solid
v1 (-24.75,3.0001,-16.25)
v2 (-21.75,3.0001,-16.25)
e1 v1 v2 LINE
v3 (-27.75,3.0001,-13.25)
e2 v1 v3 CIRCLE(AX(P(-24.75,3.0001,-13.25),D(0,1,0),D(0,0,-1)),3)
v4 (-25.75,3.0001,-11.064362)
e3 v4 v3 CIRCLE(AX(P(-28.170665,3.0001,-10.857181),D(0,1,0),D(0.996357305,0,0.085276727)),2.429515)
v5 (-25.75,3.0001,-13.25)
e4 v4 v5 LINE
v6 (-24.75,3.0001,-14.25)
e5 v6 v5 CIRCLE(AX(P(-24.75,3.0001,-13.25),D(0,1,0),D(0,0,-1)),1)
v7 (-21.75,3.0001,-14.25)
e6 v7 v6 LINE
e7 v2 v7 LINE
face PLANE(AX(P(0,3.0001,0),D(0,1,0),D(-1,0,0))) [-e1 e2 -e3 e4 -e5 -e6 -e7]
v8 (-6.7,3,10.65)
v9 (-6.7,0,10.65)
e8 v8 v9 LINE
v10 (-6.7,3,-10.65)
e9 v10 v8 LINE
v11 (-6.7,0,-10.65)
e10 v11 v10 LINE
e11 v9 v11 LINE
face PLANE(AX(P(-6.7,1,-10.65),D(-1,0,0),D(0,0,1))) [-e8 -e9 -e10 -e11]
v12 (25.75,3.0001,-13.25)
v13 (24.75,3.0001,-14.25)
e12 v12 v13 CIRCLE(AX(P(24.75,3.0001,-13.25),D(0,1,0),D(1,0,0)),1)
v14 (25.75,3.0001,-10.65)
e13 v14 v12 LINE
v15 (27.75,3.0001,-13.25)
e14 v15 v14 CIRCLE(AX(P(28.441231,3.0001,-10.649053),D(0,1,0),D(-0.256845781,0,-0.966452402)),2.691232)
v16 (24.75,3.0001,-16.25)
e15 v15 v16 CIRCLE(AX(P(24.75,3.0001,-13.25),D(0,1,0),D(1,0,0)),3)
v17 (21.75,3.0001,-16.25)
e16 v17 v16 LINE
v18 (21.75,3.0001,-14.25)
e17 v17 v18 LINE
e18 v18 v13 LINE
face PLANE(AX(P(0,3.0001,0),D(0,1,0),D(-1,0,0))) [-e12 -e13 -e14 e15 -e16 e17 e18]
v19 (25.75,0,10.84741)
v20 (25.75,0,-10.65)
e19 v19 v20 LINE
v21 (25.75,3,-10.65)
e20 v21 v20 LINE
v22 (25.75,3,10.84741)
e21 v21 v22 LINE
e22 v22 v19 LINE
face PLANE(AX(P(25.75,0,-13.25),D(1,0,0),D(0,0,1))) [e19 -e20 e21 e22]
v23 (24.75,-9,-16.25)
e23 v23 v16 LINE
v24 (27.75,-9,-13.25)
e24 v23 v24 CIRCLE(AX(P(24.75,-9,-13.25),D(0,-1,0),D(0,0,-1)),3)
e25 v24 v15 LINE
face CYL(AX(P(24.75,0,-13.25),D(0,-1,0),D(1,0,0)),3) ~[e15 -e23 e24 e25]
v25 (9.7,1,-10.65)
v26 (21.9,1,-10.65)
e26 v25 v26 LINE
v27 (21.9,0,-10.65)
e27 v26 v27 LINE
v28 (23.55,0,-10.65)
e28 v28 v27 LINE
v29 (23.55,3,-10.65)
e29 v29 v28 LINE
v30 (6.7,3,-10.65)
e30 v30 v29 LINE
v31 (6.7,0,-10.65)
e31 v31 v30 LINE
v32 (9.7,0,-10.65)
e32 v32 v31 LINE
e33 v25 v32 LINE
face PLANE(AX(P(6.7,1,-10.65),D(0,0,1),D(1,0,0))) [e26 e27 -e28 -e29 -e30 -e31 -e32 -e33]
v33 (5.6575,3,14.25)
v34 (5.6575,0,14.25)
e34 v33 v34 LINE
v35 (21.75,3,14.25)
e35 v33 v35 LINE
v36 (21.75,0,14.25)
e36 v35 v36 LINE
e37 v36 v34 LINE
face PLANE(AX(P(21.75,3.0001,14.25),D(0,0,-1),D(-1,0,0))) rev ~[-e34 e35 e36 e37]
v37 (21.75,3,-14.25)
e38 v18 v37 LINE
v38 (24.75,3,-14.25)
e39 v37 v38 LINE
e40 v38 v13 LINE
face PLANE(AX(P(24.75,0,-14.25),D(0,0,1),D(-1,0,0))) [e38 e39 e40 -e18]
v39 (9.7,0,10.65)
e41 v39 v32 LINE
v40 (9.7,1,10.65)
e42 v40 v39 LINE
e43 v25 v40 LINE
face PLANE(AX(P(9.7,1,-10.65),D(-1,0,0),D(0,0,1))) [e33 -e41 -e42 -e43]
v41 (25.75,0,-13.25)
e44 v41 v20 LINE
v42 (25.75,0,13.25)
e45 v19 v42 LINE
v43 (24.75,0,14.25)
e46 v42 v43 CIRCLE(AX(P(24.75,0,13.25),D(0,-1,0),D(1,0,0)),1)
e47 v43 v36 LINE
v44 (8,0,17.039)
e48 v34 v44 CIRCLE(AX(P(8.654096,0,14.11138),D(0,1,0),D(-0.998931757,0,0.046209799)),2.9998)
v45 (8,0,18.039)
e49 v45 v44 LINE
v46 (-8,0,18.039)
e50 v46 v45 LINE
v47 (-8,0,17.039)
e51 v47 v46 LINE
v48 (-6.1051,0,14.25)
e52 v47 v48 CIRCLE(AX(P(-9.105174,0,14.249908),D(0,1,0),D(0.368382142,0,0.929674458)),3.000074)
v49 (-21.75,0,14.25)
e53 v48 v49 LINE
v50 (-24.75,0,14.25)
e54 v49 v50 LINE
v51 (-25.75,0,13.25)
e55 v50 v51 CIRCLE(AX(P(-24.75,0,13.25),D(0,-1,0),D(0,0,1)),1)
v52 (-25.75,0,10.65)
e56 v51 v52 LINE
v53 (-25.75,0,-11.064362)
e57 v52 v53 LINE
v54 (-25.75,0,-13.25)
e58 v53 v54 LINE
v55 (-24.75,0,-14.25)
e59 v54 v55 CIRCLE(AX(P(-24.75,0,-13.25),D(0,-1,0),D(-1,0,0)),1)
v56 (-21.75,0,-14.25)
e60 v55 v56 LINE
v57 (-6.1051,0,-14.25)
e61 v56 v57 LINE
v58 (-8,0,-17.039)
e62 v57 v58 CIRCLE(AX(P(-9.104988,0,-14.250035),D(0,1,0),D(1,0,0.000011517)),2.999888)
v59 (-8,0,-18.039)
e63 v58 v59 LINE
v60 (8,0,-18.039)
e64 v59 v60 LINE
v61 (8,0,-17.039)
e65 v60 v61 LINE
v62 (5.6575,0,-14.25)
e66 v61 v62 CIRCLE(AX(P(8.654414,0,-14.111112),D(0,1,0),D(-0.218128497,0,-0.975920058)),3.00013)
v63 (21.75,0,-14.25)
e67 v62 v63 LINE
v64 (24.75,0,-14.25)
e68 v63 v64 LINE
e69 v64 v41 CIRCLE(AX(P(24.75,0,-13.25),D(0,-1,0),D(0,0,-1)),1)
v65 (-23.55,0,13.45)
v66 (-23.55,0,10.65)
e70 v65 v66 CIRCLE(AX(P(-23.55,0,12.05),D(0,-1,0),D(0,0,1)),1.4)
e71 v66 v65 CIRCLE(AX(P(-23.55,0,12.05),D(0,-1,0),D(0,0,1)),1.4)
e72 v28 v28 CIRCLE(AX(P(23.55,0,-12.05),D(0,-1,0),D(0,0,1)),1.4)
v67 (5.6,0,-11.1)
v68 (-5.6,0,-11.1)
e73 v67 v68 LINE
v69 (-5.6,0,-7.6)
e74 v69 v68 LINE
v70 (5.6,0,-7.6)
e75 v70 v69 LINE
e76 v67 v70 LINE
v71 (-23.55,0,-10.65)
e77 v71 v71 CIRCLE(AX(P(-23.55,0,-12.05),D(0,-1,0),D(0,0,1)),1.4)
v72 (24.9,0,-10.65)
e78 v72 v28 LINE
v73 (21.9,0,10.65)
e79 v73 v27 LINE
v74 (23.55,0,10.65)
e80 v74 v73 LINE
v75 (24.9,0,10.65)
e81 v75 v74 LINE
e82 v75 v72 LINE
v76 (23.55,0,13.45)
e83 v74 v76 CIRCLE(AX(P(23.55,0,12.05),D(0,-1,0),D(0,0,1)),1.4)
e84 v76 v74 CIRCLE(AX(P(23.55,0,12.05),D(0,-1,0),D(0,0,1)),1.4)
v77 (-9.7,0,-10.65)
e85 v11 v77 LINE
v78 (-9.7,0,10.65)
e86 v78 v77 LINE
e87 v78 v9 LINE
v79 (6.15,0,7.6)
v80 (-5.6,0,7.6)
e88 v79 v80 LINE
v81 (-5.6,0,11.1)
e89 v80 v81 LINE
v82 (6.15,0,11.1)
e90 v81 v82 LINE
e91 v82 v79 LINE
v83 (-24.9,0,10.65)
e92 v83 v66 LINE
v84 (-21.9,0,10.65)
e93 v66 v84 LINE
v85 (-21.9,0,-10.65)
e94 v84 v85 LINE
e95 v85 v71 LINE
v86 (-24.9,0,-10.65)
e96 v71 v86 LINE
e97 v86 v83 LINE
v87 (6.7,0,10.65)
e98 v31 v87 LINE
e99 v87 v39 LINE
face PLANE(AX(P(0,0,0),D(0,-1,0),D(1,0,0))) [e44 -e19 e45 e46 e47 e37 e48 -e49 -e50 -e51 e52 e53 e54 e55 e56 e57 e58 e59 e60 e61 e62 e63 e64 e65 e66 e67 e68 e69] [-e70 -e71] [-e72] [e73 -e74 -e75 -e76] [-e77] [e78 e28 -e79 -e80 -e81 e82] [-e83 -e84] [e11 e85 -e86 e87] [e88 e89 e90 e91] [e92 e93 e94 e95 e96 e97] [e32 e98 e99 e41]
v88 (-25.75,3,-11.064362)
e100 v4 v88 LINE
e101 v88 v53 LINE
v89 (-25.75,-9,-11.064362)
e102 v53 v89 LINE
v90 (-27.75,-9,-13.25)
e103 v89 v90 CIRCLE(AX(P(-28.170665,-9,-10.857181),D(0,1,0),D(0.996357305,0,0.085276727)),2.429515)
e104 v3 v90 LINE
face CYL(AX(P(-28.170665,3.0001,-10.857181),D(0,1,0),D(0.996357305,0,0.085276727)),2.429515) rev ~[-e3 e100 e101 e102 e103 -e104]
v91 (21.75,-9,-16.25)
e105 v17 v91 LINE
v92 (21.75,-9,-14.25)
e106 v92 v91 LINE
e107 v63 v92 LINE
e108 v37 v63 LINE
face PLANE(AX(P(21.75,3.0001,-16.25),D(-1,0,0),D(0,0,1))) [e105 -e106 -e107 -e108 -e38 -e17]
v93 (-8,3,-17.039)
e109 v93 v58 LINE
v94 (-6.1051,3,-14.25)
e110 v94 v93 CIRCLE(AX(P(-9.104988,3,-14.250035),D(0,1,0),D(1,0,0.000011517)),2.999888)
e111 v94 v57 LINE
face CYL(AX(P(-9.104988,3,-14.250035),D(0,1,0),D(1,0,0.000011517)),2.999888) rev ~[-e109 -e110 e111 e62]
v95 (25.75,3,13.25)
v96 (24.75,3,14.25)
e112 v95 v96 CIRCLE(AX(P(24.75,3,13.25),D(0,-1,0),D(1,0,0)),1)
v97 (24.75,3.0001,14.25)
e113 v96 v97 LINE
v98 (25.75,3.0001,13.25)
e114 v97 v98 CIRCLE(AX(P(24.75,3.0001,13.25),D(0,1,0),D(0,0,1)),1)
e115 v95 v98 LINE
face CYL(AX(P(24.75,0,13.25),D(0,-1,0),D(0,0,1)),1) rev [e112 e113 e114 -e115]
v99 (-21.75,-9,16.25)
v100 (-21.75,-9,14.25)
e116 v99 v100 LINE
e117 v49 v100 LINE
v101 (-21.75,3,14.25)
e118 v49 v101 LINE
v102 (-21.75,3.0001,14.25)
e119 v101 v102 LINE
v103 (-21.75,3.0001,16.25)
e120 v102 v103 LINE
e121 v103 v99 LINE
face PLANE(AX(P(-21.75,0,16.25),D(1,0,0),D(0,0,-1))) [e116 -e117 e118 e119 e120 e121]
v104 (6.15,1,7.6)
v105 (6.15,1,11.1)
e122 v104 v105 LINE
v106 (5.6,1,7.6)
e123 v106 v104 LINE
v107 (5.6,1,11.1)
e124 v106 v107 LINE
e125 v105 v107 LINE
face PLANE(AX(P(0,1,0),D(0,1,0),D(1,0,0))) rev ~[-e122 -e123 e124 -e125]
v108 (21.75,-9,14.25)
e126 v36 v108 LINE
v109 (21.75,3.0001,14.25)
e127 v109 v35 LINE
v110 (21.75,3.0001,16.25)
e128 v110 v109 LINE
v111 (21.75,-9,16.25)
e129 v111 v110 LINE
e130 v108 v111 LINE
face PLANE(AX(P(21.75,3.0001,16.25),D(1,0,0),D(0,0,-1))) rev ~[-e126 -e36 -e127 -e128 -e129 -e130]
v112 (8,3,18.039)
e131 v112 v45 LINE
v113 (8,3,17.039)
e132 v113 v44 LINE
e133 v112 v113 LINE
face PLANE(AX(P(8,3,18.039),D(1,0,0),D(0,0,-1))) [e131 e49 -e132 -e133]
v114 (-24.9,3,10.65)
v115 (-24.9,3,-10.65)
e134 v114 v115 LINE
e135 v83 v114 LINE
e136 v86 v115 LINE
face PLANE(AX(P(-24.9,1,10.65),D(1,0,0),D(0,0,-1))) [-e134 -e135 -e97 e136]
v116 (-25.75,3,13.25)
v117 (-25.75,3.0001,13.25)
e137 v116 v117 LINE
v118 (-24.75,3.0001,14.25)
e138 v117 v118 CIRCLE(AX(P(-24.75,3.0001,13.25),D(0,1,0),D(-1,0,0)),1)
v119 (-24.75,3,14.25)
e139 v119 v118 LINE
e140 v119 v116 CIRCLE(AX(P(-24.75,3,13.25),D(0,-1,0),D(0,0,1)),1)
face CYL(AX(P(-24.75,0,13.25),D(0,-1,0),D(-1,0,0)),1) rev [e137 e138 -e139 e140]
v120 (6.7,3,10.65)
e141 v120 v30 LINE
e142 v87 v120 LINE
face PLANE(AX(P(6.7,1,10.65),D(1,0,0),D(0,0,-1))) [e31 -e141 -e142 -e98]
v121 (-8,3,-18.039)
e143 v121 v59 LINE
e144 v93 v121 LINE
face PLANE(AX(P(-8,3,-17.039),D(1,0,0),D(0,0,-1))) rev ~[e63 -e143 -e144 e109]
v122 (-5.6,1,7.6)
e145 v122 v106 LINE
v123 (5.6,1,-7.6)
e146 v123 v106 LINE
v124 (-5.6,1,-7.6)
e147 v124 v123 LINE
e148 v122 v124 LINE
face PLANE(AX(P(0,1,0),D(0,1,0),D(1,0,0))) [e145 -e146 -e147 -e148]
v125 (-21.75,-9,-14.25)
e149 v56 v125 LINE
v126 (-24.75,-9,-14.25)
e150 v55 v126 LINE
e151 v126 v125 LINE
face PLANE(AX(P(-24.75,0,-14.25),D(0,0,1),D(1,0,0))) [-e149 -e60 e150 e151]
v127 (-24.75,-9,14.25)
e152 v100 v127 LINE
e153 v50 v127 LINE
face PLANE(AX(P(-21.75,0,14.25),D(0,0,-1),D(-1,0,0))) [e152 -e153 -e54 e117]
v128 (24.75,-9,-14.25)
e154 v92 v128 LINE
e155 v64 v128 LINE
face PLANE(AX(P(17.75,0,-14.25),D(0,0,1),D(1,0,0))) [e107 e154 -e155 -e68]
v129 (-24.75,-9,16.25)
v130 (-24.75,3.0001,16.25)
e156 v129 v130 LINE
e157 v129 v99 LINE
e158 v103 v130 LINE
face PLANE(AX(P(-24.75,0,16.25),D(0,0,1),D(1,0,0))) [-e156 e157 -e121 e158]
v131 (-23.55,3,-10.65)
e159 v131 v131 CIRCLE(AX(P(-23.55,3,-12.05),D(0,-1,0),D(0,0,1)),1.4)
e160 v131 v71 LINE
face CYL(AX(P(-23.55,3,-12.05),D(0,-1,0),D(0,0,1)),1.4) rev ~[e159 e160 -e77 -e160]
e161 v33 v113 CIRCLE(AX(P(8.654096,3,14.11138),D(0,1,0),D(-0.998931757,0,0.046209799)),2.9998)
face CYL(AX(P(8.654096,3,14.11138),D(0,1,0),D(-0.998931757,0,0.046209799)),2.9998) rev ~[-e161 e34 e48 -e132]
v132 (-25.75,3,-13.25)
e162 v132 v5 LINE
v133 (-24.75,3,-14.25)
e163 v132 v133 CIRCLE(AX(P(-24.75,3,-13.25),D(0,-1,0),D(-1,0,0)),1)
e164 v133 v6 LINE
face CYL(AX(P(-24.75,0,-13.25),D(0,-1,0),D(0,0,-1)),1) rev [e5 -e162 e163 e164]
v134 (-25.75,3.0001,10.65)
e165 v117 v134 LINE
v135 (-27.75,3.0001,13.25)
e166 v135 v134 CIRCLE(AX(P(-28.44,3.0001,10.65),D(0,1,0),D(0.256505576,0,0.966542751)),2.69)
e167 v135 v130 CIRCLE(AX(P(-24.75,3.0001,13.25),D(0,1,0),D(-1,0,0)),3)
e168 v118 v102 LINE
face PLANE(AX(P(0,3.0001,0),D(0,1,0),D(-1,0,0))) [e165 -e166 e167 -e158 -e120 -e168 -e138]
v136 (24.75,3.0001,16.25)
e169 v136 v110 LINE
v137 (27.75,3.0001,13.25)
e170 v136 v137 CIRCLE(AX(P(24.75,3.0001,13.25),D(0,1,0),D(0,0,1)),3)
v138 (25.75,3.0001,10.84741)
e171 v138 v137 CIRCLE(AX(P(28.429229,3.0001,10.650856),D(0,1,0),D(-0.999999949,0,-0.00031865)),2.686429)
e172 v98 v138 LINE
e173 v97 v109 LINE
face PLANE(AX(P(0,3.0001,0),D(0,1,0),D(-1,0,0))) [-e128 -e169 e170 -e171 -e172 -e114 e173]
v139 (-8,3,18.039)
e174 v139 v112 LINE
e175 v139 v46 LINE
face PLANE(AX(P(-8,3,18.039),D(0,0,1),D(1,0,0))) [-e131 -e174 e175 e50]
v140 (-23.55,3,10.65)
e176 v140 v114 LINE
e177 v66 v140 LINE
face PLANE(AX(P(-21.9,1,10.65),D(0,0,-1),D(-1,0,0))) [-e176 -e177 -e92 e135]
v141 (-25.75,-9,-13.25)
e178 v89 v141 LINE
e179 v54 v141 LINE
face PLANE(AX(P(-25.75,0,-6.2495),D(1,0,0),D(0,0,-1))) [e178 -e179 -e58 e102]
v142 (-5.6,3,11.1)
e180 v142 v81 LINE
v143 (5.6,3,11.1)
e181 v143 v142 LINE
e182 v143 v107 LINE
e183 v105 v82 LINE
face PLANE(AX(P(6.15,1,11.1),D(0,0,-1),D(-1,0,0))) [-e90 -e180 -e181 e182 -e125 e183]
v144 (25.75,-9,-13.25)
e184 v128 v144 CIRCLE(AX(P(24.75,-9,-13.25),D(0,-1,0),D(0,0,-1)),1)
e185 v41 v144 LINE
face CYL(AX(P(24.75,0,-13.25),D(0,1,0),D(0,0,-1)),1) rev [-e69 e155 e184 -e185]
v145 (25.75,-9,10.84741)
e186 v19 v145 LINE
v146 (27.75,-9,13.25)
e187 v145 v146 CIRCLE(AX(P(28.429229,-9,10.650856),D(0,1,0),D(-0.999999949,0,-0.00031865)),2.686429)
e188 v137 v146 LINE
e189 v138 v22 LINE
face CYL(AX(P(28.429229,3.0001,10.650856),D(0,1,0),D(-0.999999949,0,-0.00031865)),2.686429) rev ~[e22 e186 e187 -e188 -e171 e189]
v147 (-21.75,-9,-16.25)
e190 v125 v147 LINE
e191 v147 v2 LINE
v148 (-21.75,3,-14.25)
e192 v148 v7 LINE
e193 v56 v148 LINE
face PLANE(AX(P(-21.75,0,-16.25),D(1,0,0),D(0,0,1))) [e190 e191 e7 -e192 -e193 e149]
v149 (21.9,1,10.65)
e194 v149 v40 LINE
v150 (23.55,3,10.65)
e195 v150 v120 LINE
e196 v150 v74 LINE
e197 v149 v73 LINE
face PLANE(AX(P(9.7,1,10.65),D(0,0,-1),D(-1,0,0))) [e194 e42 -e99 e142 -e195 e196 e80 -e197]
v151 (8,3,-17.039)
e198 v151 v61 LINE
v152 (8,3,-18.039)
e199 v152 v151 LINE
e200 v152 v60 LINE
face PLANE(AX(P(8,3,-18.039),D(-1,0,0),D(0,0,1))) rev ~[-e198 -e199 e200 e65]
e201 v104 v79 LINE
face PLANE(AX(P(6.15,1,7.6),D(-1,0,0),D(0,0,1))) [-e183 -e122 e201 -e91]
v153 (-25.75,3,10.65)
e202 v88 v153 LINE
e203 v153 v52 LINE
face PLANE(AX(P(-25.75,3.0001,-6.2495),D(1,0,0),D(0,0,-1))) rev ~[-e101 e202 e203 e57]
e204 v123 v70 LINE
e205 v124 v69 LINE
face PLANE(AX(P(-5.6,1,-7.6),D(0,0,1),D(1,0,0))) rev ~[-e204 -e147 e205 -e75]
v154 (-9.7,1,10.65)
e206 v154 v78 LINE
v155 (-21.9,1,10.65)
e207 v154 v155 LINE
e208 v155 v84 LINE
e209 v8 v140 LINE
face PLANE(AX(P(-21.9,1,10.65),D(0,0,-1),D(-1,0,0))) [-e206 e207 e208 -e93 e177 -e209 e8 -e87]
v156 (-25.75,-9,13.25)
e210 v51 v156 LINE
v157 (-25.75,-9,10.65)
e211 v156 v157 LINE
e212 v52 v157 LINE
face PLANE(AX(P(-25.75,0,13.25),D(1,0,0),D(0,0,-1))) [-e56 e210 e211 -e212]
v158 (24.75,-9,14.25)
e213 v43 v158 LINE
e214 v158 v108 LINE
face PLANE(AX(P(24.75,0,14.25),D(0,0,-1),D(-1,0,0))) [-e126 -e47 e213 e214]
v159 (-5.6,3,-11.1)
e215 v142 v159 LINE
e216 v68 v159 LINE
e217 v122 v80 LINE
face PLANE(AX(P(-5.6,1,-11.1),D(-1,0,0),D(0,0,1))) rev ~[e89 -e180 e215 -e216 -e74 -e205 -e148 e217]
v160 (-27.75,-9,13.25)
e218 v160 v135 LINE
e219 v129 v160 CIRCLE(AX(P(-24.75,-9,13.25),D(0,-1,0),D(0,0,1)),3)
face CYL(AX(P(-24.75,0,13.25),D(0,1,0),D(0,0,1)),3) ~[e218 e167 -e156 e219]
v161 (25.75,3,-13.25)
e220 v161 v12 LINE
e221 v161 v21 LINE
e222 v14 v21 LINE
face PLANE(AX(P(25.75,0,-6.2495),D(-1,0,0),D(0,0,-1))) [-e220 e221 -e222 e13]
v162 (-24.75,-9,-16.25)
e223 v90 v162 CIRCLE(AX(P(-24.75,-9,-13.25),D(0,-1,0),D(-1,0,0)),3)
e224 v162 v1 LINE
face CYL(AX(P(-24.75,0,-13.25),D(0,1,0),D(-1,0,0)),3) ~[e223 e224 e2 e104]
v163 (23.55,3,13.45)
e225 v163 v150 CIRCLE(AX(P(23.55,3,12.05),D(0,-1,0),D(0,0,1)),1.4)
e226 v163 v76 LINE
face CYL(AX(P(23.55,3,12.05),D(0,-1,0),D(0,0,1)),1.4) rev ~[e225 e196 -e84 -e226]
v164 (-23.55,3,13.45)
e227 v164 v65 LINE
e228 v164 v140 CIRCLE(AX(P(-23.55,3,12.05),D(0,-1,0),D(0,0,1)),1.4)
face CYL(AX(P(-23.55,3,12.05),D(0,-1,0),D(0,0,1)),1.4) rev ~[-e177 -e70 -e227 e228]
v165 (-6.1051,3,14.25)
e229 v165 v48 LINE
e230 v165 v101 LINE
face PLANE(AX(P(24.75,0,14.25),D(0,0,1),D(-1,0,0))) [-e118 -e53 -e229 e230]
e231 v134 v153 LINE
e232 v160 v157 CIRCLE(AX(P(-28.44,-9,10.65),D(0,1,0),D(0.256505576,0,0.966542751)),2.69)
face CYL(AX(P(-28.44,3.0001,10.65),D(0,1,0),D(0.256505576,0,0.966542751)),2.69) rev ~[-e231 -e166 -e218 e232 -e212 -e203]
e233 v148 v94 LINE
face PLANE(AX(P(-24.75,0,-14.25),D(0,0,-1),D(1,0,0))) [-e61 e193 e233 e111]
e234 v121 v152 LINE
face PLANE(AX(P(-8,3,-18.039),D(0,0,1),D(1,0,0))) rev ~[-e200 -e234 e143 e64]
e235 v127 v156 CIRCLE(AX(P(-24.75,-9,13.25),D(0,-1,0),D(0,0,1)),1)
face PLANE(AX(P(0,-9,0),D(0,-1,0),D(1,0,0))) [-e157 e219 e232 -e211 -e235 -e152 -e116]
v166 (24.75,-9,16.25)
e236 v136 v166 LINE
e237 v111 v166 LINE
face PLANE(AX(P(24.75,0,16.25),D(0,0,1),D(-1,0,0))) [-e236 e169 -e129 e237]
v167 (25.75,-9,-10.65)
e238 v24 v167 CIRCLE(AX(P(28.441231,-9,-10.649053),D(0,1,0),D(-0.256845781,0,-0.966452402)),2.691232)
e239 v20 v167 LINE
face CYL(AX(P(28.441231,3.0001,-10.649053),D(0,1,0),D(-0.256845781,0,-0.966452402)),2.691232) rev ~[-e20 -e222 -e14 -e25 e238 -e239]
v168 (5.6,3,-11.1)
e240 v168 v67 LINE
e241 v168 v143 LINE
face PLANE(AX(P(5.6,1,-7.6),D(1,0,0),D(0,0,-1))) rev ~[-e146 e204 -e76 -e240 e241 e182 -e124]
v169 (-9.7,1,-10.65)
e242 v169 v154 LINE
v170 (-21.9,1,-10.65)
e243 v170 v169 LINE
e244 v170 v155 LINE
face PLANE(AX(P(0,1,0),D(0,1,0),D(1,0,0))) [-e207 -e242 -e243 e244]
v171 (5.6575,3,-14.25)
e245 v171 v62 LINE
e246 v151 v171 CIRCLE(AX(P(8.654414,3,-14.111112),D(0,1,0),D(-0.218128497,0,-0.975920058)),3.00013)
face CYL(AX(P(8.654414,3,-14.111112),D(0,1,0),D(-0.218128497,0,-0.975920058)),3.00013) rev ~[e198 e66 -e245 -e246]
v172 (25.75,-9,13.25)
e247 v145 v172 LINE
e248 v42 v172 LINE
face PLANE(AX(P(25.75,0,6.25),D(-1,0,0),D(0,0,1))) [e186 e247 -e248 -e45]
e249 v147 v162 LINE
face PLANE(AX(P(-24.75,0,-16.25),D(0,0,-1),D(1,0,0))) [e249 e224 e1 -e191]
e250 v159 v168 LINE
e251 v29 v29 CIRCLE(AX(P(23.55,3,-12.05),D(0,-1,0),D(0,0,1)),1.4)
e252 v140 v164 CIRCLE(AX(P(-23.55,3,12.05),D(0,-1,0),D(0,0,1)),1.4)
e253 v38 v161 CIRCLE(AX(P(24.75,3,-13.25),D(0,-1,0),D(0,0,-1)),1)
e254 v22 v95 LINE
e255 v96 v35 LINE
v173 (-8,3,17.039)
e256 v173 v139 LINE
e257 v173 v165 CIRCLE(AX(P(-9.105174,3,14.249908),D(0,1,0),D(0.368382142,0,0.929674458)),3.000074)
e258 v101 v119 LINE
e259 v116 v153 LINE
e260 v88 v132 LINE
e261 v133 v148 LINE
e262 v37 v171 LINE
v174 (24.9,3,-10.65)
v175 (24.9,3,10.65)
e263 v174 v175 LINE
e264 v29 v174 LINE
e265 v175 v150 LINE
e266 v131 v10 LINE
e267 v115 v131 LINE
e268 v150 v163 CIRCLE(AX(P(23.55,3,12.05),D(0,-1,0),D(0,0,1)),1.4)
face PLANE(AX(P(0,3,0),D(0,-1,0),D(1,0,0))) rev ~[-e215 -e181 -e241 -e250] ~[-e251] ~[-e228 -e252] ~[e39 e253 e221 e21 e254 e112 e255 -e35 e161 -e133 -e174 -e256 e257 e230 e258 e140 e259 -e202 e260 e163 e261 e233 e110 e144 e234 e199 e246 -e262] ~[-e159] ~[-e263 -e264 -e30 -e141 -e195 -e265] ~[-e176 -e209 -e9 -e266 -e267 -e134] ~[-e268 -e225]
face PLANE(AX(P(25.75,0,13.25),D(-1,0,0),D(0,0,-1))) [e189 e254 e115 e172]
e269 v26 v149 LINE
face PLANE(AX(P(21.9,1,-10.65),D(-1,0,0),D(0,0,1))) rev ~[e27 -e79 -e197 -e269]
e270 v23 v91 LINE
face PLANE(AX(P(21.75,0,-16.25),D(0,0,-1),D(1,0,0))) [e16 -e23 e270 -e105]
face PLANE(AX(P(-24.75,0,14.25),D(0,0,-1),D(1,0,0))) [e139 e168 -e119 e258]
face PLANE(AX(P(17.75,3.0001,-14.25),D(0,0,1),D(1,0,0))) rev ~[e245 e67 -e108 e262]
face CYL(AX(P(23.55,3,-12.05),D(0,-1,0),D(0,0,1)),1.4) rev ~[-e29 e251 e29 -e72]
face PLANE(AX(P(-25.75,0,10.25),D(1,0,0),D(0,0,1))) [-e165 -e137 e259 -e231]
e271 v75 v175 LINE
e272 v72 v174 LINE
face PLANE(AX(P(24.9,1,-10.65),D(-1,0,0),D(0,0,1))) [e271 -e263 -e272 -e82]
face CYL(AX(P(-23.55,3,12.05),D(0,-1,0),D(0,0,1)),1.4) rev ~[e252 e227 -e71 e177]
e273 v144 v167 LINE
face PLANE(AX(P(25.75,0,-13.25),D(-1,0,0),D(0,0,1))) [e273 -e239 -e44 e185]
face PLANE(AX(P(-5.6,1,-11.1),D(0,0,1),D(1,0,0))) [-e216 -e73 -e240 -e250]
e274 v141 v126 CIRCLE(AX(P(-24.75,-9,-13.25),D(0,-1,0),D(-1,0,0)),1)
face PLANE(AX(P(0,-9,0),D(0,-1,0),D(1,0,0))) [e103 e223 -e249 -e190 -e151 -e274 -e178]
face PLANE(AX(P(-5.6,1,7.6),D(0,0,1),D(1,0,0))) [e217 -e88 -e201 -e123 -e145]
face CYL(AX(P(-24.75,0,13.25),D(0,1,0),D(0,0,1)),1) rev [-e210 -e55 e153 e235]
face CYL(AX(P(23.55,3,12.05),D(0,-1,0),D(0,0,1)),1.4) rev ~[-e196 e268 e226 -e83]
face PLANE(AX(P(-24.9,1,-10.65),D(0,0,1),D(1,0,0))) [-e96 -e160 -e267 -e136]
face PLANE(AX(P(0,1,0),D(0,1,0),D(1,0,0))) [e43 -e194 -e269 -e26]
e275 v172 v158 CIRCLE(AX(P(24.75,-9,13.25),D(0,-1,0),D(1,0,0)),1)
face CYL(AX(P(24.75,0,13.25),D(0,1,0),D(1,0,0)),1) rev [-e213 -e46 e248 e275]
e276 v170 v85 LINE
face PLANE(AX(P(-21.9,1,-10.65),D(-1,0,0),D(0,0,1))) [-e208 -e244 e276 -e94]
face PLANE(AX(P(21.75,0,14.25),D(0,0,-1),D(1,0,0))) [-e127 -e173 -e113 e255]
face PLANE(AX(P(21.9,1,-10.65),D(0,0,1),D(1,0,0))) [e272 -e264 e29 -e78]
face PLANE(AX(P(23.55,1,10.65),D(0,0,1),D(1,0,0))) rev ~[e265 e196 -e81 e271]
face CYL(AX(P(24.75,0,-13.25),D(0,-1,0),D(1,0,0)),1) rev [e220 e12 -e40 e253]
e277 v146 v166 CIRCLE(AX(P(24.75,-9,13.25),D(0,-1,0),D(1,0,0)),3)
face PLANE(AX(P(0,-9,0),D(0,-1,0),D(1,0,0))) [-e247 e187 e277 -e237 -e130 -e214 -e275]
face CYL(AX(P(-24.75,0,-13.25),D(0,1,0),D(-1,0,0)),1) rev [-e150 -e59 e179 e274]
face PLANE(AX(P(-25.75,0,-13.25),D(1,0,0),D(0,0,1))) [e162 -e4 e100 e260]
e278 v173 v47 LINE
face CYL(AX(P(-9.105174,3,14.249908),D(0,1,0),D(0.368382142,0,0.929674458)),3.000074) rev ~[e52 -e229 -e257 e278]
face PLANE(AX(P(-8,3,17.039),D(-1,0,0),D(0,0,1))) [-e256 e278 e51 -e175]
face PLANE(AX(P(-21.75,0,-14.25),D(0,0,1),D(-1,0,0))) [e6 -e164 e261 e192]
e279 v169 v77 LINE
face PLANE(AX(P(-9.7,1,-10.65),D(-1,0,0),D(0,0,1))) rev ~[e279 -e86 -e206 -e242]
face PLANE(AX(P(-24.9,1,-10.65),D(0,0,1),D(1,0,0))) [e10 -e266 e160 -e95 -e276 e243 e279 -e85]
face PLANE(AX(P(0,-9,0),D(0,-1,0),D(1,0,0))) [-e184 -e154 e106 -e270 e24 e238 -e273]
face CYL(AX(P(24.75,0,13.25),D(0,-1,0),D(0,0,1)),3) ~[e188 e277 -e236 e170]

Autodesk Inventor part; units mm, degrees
ref_plane "YZ Plane" through (0, 0, 0) normal (1, 0, 0) x (0, 1, 0)
ref_plane "XZ Plane" through (0, 0, 0) normal (0, 1, 0) x (-1, 0, 0)
ref_plane "XY Plane" through (0, 0, 0) normal (0, 0, 1) x (1, 0, 0)
sketch "Sketch1" plane through (0, 0, 0) normal (0, 1, 0) x (-1, 0, 0)
  line L0 (-25.75, 13.25) -> (-25.75, -13.25)
  line L1 (-24.75, -14.25) -> (24.75, -14.25)
  line L2 (25.75, -13.25) -> (25.75, 13.25)
  line L3 (24.75, 14.25) -> (-24.75, 14.25)
  arc A0 (-25.75, -13.25) -> (-24.75, -14.25) centre (-24.75, -13.25) ccw
  arc A1 (-24.75, 14.25) -> (-25.75, 13.25) centre (-24.75, 13.25) ccw
  arc A2 (25.75, 13.25) -> (24.75, 14.25) centre (24.75, 13.25) ccw
  arc A3 (24.75, -14.25) -> (25.75, -13.25) centre (24.75, -13.25) ccw
  line L4 (24.75, -16.25) -> (-24.75, -16.25)
  arc A4 (-27.75, -13.25) -> (-24.75, -16.25) centre (-24.75, -13.25) ccw
  line L5 (-27.75, -13.25) -> (-27.75, 13.25)
  arc A5 (-24.75, 16.25) -> (-27.75, 13.25) centre (-24.75, 13.25) ccw
  line L6 (-24.75, 16.25) -> (24.75, 16.25)
  arc A6 (27.75, 13.25) -> (24.75, 16.25) centre (24.75, 13.25) ccw
  line L7 (27.75, 13.25) -> (27.75, -13.25)
  arc A7 (24.75, -16.25) -> (27.75, -13.25) centre (24.75, -13.25) ccw
  line L8 (21.75, -16.25) -> (21.75, -14.25)
  line L9 (27.75, -10.25) -> (25.75, -10.25)
  line L10 (25.75, 10.25) -> (27.75, 10.25)
  line L11 (21.75, 14.25) -> (21.75, 16.25)
  line L12 (-21.75, 14.25) -> (-21.75, 16.25)
  line L13 (-25.75, 10.25) -> (-27.75, 10.25)
  line L14 (-25.75, -10.25) -> (-27.75, -10.25)
  line L15 (-21.75, -16.25) -> (-21.75, -14.25)
  line L16 (-21.75, -14.25) -> (-17.75, -14.25)
  arc A8 (-17.75, -14.25) -> (-21.75, -16.25) centre (-15.3911, -23.9678) ccw
  line L17 (-21.75, 14.25) -> (-17.75, 14.25)
  arc A9 (-21.75, 16.25) -> (-17.75, 14.25) centre (-15.3911, 23.9678) ccw
  line L18 (-25.75, -10.25) -> (-25.75, -6.2495)
  line L19 (-25.75, 10.25) -> (-25.75, 6.25)
  arc A10 (-27.75, -10.25) -> (-25.75, -6.2495) centre (-35.468, -3.8913) ccw
  arc A11 (-25.75, 6.25) -> (-27.75, 10.25) centre (-35.4678, 3.8911) ccw
  line L20 (25.75, -10.25) -> (25.75, -6.2495)
  arc A12 (25.75, -6.2495) -> (27.75, -10.25) centre (35.468, -3.8913) ccw
  line L21 (25.75, 10.25) -> (25.75, 6.25)
  arc A13 (27.75, 10.25) -> (25.75, 6.25) centre (35.4678, 3.8911) ccw
  point P0 (0, 0)
  point P1 (-25.75, 14.25)
  point P2 (-25.75, -14.25)
  point P3 (25.75, -14.25)
  point P4 (21.75, 15.25)
  point P5 (-26.75, 10.25)
  dimension "d0" = 28.5
  dimension "d1" = 51.5
  dimension "d2" = 14.25
  dimension "d3" = 25.75
  dimension "d4" = 1
  dimension "d5" = 2
  dimension "d6" = 3
  dimension "d7" = 3
  dimension "d8" = 3
  dimension "d9" = 3
  dimension "d10" = 3
  dimension "d11" = 3
  dimension "d12" = 3
  dimension "d13" = 3
  dimension "d19" = 4
  dimension "d20" = 10
  dimension "d21" = 10
  dimension "d22" = 4
  dimension "d23" = 10
  dimension "d24" = 10
  dimension "d25" = 10
  dimension "d26" = 10
extrude "Extrusion1" add sketch "Sketch1" along normal blind 3.0001 contours L0 L13 L5 A5 L6 L12 L3 A1 | L0 A11 L13 | L12 A9 L3 | L0 L14 A10 | L14 L0 A0 L1 L15 L4 A4 L5 | L11 L6 A6 L7 L10 L2 A2 L3 | L15 L1 A8 | L8 L1 A3 L2 L9 L7 A7 L4 | L10 A13 L2 | L9 L2 A12
sketch "Sketch2" plane through (0, 0, 0) normal (0, -1, 0) x (1, 0, 0)
  line L0 (24.75, 14.25) -> (-24.75, 14.25) projected
  arc A0 (25.75, 13.25) -> (24.75, 14.25) centre (24.75, 13.25) ccw projected
  line L1 (-24.75, 14.25) -> (24.75, 14.25)
  line L2 (25.75, -13.25) -> (25.75, 13.25) projected
  line L3 (-24.75, -14.25) -> (24.75, -14.25) projected
  arc A1 (-25.75, -13.25) -> (-24.75, -14.25) centre (-24.75, -13.25) ccw projected
  arc A2 (24.75, -14.25) -> (25.75, -13.25) centre (24.75, -13.25) ccw projected
  line L4 (-25.75, 13.25) -> (-25.75, -13.25) projected
  arc A3 (-24.75, 14.25) -> (-25.75, 13.25) centre (-24.75, 13.25) ccw projected
  line L5 (24.75, -16.25) -> (-24.75, -16.25)
  arc A4 (-27.75, -13.25) -> (-24.75, -16.25) centre (-24.75, -13.25) ccw
  line L6 (-27.75, -13.25) -> (-27.75, 13.25)
  arc A5 (-24.75, 16.25) -> (-27.75, 13.25) centre (-24.75, 13.25) ccw
  line L7 (-24.75, 16.25) -> (24.75, 16.25)
  arc A6 (27.75, 13.25) -> (24.75, 16.25) centre (24.75, 13.25) ccw
  line L8 (27.75, 13.25) -> (27.75, -13.25)
  arc A7 (24.75, -16.25) -> (27.75, -13.25) centre (24.75, -13.25) ccw
  point P0 (0, 0)
  dimension "d16" = 2
extrude "Extrusion2" add sketch "Sketch2" against normal blind 3 contours A0 L2 A2 L3 A1 L4 A3 L0
sketch "Sketch3" plane through (0, 3, 0) normal (0, 1, 0) x (1, 0, 0)
  line L0 (6.7, 10.65) -> (24.9, 10.65)
  line L1 (24.9, 10.65) -> (24.9, -10.65)
  line L2 (24.9, -10.65) -> (6.7, -10.65)
  line L3 (6.7, -10.65) -> (6.7, 10.65)
  line L4 (-5.6, 11.1) -> (5.6, 11.1)
  line L5 (5.6, 11.1) -> (5.6, -11.1)
  line L6 (5.6, -11.1) -> (-5.6, -11.1)
  line L7 (-5.6, -11.1) -> (-5.6, 11.1)
  line L8 (17.75, 14.25) -> (-21.75, 14.25) projected
  line L9 (-21.75, -14.25) -> (17.75, -14.25) projected
  line L10 (-6.7, -10.65) -> (-24.9, -10.65)
  line L11 (-6.7, 10.65) -> (-6.7, -10.65)
  line L12 (-24.9, 10.65) -> (-6.7, 10.65)
  line L13 (-24.9, -10.65) -> (-24.9, 10.65)
  point P0 (0, 0)
  dimension "d27" = 18.2
  dimension "d28" = 21.3
  dimension "d29" = 10.65
  dimension "d30" = 6.7
  dimension "d31" = 11.2
  dimension "d32" = 22.2
  dimension "d33" = 5.6
  dimension "d34" = 11.1
  dimension "d69" = 360
extrude "Extrusion3" cut sketch "Sketch3" against normal blind 2
sketch "Sketch4" plane through (0, 3, 0) normal (0, 1, 0) x (1, 0, 0)
  line L0 (-25.75, 6.2495) -> (-25.75, 13.25) projected
  line L1 (-25.75, 12.05) -> (-23.55, 12.05)
  line L2 (-24.75, 14.25) -> (-21.75, 14.25) projected
  line L3 (-23.55, 14.25) -> (-23.55, 12.05)
  circle A0 centre (-23.55, 12.05) radius 1.4
  line L4 (17.75, 14.25) -> (24.75, 14.25) projected
  line L5 (23.55, 14.25) -> (23.55, 12.05)
  line L6 (25.75, 13.25) -> (25.75, 6.2495) projected
  line L7 (25.75, 12.05) -> (23.55, 12.05)
  line L8 (24.75, -14.25) -> (17.75, -14.25) projected
  line L9 (23.55, -14.25) -> (23.55, -12.05)
  line L10 (25.75, -6.25) -> (25.75, -13.25) projected
  line L11 (25.75, -12.05) -> (23.55, -12.05)
  line L12 (-25.75, -13.25) -> (-25.75, -6.25) projected
  line L13 (-25.75, -12.05) -> (-23.55, -12.05)
  line L14 (-21.75, -14.25) -> (-24.75, -14.25) projected
  line L15 (-23.55, -14.25) -> (-23.55, -12.05)
  point P0 (0, 0)
  dimension "d39" = 2.2
  dimension "d40" = 2.2
  dimension "d41" = 2.8
  dimension "d42" = 2.2
  dimension "d43" = 2.2
  dimension "d44" = 2.2
  dimension "d45" = 2.2
  dimension "d46" = 2.2
  dimension "d48" = 2.2
hole "Hole1" at (-23.55, 3, -12.05) at (23.55, 3, -12.05) at (23.55, 3, 12.05) at (-23.55, 3, 12.05) direction (0, -1, 0) diameter 2.8 end through all
sketch "Sketch5" plane through (0, 0, 0) normal (0, -1, 0) x (1, 0, 0)
  line L0 (25.75, -13.25) -> (25.75, -6.2495) projected
  arc A0 (25.75, -6.2495) -> (27.75, -10.25) centre (35.468, -3.8913) ccw projected
  line L1 (27.75, -10.25) -> (27.75, -13.25) projected
  arc A1 (24.75, -16.25) -> (27.75, -13.25) centre (24.75, -13.25) ccw projected
  line L2 (24.75, -16.25) -> (21.75, -16.25) projected
  arc A2 (21.75, -16.25) -> (17.75, -14.25) centre (15.3911, -23.9678) ccw projected
  line L3 (17.75, -14.25) -> (24.75, -14.25) projected
  arc A3 (24.75, -14.25) -> (25.75, -13.25) centre (24.75, -13.25) ccw projected
  line L4 (25.75, 6.25) -> (25.75, 13.25) projected
  arc A4 (27.75, 10.25) -> (25.75, 6.25) centre (35.4678, 3.8911) ccw projected
  line L5 (27.75, 13.25) -> (27.75, 10.25) projected
  arc A5 (27.75, 13.25) -> (24.75, 16.25) centre (24.75, 13.25) ccw projected
  arc A6 (25.75, 13.25) -> (24.75, 14.25) centre (24.75, 13.25) ccw projected
  line L6 (24.75, 14.25) -> (17.75, 14.25) projected
  arc A7 (17.75, 14.25) -> (21.75, 16.25) centre (15.3911, 23.9678) ccw projected
  line L7 (21.75, 16.25) -> (24.75, 16.25) projected
  line L8 (-21.75, 14.25) -> (-24.75, 14.25) projected
  line L9 (-21.75, 16.25) -> (-21.75, 14.25) projected
  line L10 (-24.75, 16.25) -> (-21.75, 16.25) projected
  arc A8 (-24.75, 16.25) -> (-27.75, 13.25) centre (-24.75, 13.25) ccw projected
  line L11 (-27.75, 10.25) -> (-27.75, 13.25) projected
  arc A9 (-25.75, 6.25) -> (-27.75, 10.25) centre (-35.4678, 3.8911) ccw projected
  line L12 (-25.75, 13.25) -> (-25.75, 6.25) projected
  arc A10 (-24.75, 14.25) -> (-25.75, 13.25) centre (-24.75, 13.25) ccw projected
  line L13 (-27.75, -13.25) -> (-27.75, -10.25) projected
  arc A11 (-27.75, -13.25) -> (-24.75, -16.25) centre (-24.75, -13.25) ccw projected
  line L14 (-21.75, -16.25) -> (-24.75, -16.25) projected
  line L15 (-21.75, -14.25) -> (-21.75, -16.25) projected
  line L16 (-24.75, -14.25) -> (-21.75, -14.25) projected
  arc A12 (-25.75, -13.25) -> (-24.75, -14.25) centre (-24.75, -13.25) ccw projected
  line L17 (-25.75, -6.2495) -> (-25.75, -13.25) projected
  arc A13 (-27.75, -10.25) -> (-25.75, -6.2495) centre (-35.468, -3.8913) ccw projected
  point P0 (0, 0)
extrude "Extrusion4" add sketch "Sketch5" along normal blind 9
sketch "Sketch6" plane through (0, 3, 0) normal (0, 1, 0) x (1, 0, 0)
  line L0 (17.75, 14.25) -> (-21.75, 14.25) projected
  arc A0 (-6.1051, 14.25) -> (-8, 17.039) centre (-9.1051, 14.25) ccw
  line L1 (-8, 17.039) -> (-8, 18.039)
  line L2 (-8, 18.039) -> (8, 18.039)
  line L3 (8, 18.039) -> (8, 17.039)
  arc A1 (8, 17.039) -> (5.6575, 14.25) centre (8.6543, 14.1113) ccw
  line L4 (-5.6, 11.1) -> (5.6, 11.1) projected
  line L5 (-24.5, 0) -> (24.9, 0)
  line L6 (24.9, 10.65) -> (24.9, -10.65) projected
  arc A2 (-8, -17.039) -> (-6.1051, -14.25) centre (-9.1051, -14.25) ccw
  line L7 (-8, -17.039) -> (-8, -18.039)
  line L8 (-8, -18.039) -> (8, -18.039)
  line L9 (8, -18.039) -> (8, -17.039)
  arc A3 (5.6575, -14.25) -> (8, -17.039) centre (8.6543, -14.1113) ccw
  line L10 (-6.1051, -14.25) -> (5.6575, -14.25)
  line L11 (-6.1051, 14.25) -> (5.6575, 14.25)
  point P0 (0, 0)
  point P1 (0, 11.1)
  dimension "d58" = 3
  dimension "d59" = 1
  dimension "d60" = 1
  dimension "d61" = 3
  dimension "d62" = 16
  dimension "d63" = 8
extrude "Extrusion5" add sketch "Sketch6" against normal blind 3
sketch "Sketch7" plane through (0, 1, 0) normal (0, 1, 0) x (1, 0, 0)
  line L0 (-24.9, -10.65) -> (-24.9, 10.65) projected
  line L1 (-24.9, 10.65) -> (-21.9, 10.65)
  line L2 (-23.55, 10.65) -> (-6.7, 10.65) projected
  line L3 (-21.9, 10.65) -> (-21.9, -10.65)
  line L4 (-6.7, -10.65) -> (-23.55, -10.65) projected
  line L5 (-21.9, -10.65) -> (-24.9, -10.65)
  line L6 (-24.9, 10.65) -> (-24.9, -10.65)
  line L7 (-6.7, 10.65) -> (-6.7, -10.65) projected
  line L8 (-6.7, 10.65) -> (-9.7, 10.65)
  line L9 (-9.7, 10.65) -> (-9.7, -10.65)
  line L10 (-9.7, -10.65) -> (-6.7, -10.65)
  line L11 (-6.7, 10.65) -> (-6.7, -10.65)
  line L12 (-5.6, 11.1) -> (5.6, 11.1) projected
  line L13 (-5.6, 11.1) -> (-5.6, 7.6)
  line L14 (-5.6, 7.6) -> (5.6, 7.6)
  line L15 (5.6, 7.6) -> (5.6, 11.1)
  line L16 (5.6, 11.1) -> (-5.6, 11.1)
  line L17 (5.6, -11.1) -> (-5.6, -11.1) projected
  line L18 (-5.6, -11.1) -> (-5.6, -7.6)
  line L19 (-5.6, -11.1) -> (-5.6, 11.1) projected
  line L20 (-5.6, -7.6) -> (6.15, -7.6)
  line L21 (6.15, -7.6) -> (6.15, -11.1)
  line L22 (6.15, -11.1) -> (-5.6, -11.1)
  line L23 (6.7, 10.65) -> (23.55, 10.65) projected
  line L24 (6.7, 10.65) -> (9.7, 10.65)
  line L25 (9.7, 10.65) -> (9.7, -10.65)
  line L26 (23.55, -10.65) -> (6.7, -10.65) projected
  line L27 (6.7, -10.65) -> (6.7, 10.65)
  line L28 (23.55, 10.65) -> (24.9, 10.65) projected
  line L29 (24.9, 10.65) -> (21.9, 10.65)
  line L30 (21.9, 10.65) -> (21.9, -10.65)
  line L31 (24.9, 10.65) -> (24.9, -10.65) projected
  line L32 (24.9, -10.65) -> (24.9, 10.65)
  line L33 (24.9, 10.65) -> (24.9, -10.65)
  line L34 (21.9, -10.65) -> (24.9, -10.65)
  line L35 (21.9, 10.65) -> (24.9, 10.65)
  point P0 (0, 0)
  point P1 (5.875, -11.3)
  point P2 (-23.55, -10.65)
  dimension "d71" = 3
  dimension "d72" = 3
  dimension "d73" = 3.5
  dimension "d74" = 3.5
  dimension "d75" = 3
  dimension "d76" = 3
extrude "Extrusion6" cut sketch "Sketch7" against normal through all contours L0 L1 L3 L4 L5 | L9 L2 L7 L4 | L20 L21 L22 L17 L18 | L12 L15 L14 L13 | L23 L25 L26 L27 | L23 L28 L31 L34 L26 L30
sketch "Sketch9" plane through (0, 3.0001, 0) normal (0, 1, 0) x (1, 0, 0)
  line L0 (-24.9, 10.65) -> (-23.55, 10.65) projected
  line L1 (-24.9, 10.65) -> (-25.75, 10.65)
  line L2 (-25.75, 6.2495) -> (-25.75, 13.25) projected
  line L3 (-27.75, 13.25) -> (-27.75, 10.25) projected
  arc A0 (-25.75, 10.65) -> (-27.75, 13.25) centre (-28.1706, 10.8572) ccw
  line L4 (-25.75, 10.65) -> (-25.75, -10.65)
  line L5 (-25.75, -13.25) -> (-25.75, -6.25) projected
  line L6 (-25.75, -10.65) -> (25.7428, -10.65)
  line L7 (23.55, -10.65) -> (6.7, -10.65) projected
  line L8 (25.75, 13.25) -> (25.75, 6.2495) projected
  line L9 (25.75, 10.65) -> (-25.75, 10.65)
  arc A1 (27.75, 13.25) -> (24.75, 16.25) centre (24.75, 13.25) ccw projected
  arc A2 (27.75, 13.25) -> (25.75, 10.65) centre (28.4412, 10.6491) ccw
  arc A3 (24.75, -16.25) -> (27.75, -13.25) centre (24.75, -13.25) ccw projected
  arc A4 (25.7428, -10.65) -> (27.75, -13.25) centre (28.4291, -10.6509) ccw
  line L10 (24.75, -14.25) -> (17.75, -14.25) projected
  line L11 (-27.75, -10.25) -> (-27.75, -13.25) projected
  arc A5 (-27.75, -13.25) -> (-25.75, -10.65) centre (-28.44, -10.65) ccw
  arc A6 (-25.75, 6.2495) -> (-27.75, 10.25) centre (-35.468, 3.8913) ccw projected
  arc A7 (-27.75, -10.25) -> (-25.75, -6.25) centre (-35.4678, -3.8911) ccw projected
  arc A8 (21.75, -16.25) -> (17.75, -14.25) centre (15.3911, -23.9678) ccw projected
  line L12 (21.75, -16.25) -> (24.75, -16.25) projected
  line L13 (27.75, -13.25) -> (27.75, -10.25) projected
  arc A9 (25.75, -6.25) -> (27.75, -10.25) centre (35.4678, -3.8911) ccw projected
  line L14 (25.75, -6.25) -> (25.75, -13.25) projected
  line L15 (25.75, 13.25) -> (25.75, 6.2495) projected
  arc A10 (27.75, 10.25) -> (25.75, 6.2495) centre (35.468, 3.8913) ccw projected
  line L16 (27.75, 10.25) -> (27.75, 13.25) projected
  line L17 (24.75, 16.25) -> (21.75, 16.25) projected
  arc A11 (17.75, 14.25) -> (21.75, 16.25) centre (15.3911, 23.9678) ccw projected
  line L18 (17.75, 14.25) -> (24.75, 14.25) projected
  line L19 (21.75, 16.25) -> (21.75, 14.25)
  line L20 (21.75, -16.25) -> (21.75, -14.25)
  point P0 (0, 0)
  point P1 (25.75, -10.848)
  point P2 (-25.75, 11.0644)
  dimension "d84" = 2.4295
  dimension "d86" = 0
extrude "Extrusion8" cut sketch "Sketch9" against normal through all contours L19 L18 A11 | A2 L16 A10 L8 | A8 L10 L20 | L14 A9 L13 A4 | L4 A5 L11 A7 | L2 A6 L3 A0
